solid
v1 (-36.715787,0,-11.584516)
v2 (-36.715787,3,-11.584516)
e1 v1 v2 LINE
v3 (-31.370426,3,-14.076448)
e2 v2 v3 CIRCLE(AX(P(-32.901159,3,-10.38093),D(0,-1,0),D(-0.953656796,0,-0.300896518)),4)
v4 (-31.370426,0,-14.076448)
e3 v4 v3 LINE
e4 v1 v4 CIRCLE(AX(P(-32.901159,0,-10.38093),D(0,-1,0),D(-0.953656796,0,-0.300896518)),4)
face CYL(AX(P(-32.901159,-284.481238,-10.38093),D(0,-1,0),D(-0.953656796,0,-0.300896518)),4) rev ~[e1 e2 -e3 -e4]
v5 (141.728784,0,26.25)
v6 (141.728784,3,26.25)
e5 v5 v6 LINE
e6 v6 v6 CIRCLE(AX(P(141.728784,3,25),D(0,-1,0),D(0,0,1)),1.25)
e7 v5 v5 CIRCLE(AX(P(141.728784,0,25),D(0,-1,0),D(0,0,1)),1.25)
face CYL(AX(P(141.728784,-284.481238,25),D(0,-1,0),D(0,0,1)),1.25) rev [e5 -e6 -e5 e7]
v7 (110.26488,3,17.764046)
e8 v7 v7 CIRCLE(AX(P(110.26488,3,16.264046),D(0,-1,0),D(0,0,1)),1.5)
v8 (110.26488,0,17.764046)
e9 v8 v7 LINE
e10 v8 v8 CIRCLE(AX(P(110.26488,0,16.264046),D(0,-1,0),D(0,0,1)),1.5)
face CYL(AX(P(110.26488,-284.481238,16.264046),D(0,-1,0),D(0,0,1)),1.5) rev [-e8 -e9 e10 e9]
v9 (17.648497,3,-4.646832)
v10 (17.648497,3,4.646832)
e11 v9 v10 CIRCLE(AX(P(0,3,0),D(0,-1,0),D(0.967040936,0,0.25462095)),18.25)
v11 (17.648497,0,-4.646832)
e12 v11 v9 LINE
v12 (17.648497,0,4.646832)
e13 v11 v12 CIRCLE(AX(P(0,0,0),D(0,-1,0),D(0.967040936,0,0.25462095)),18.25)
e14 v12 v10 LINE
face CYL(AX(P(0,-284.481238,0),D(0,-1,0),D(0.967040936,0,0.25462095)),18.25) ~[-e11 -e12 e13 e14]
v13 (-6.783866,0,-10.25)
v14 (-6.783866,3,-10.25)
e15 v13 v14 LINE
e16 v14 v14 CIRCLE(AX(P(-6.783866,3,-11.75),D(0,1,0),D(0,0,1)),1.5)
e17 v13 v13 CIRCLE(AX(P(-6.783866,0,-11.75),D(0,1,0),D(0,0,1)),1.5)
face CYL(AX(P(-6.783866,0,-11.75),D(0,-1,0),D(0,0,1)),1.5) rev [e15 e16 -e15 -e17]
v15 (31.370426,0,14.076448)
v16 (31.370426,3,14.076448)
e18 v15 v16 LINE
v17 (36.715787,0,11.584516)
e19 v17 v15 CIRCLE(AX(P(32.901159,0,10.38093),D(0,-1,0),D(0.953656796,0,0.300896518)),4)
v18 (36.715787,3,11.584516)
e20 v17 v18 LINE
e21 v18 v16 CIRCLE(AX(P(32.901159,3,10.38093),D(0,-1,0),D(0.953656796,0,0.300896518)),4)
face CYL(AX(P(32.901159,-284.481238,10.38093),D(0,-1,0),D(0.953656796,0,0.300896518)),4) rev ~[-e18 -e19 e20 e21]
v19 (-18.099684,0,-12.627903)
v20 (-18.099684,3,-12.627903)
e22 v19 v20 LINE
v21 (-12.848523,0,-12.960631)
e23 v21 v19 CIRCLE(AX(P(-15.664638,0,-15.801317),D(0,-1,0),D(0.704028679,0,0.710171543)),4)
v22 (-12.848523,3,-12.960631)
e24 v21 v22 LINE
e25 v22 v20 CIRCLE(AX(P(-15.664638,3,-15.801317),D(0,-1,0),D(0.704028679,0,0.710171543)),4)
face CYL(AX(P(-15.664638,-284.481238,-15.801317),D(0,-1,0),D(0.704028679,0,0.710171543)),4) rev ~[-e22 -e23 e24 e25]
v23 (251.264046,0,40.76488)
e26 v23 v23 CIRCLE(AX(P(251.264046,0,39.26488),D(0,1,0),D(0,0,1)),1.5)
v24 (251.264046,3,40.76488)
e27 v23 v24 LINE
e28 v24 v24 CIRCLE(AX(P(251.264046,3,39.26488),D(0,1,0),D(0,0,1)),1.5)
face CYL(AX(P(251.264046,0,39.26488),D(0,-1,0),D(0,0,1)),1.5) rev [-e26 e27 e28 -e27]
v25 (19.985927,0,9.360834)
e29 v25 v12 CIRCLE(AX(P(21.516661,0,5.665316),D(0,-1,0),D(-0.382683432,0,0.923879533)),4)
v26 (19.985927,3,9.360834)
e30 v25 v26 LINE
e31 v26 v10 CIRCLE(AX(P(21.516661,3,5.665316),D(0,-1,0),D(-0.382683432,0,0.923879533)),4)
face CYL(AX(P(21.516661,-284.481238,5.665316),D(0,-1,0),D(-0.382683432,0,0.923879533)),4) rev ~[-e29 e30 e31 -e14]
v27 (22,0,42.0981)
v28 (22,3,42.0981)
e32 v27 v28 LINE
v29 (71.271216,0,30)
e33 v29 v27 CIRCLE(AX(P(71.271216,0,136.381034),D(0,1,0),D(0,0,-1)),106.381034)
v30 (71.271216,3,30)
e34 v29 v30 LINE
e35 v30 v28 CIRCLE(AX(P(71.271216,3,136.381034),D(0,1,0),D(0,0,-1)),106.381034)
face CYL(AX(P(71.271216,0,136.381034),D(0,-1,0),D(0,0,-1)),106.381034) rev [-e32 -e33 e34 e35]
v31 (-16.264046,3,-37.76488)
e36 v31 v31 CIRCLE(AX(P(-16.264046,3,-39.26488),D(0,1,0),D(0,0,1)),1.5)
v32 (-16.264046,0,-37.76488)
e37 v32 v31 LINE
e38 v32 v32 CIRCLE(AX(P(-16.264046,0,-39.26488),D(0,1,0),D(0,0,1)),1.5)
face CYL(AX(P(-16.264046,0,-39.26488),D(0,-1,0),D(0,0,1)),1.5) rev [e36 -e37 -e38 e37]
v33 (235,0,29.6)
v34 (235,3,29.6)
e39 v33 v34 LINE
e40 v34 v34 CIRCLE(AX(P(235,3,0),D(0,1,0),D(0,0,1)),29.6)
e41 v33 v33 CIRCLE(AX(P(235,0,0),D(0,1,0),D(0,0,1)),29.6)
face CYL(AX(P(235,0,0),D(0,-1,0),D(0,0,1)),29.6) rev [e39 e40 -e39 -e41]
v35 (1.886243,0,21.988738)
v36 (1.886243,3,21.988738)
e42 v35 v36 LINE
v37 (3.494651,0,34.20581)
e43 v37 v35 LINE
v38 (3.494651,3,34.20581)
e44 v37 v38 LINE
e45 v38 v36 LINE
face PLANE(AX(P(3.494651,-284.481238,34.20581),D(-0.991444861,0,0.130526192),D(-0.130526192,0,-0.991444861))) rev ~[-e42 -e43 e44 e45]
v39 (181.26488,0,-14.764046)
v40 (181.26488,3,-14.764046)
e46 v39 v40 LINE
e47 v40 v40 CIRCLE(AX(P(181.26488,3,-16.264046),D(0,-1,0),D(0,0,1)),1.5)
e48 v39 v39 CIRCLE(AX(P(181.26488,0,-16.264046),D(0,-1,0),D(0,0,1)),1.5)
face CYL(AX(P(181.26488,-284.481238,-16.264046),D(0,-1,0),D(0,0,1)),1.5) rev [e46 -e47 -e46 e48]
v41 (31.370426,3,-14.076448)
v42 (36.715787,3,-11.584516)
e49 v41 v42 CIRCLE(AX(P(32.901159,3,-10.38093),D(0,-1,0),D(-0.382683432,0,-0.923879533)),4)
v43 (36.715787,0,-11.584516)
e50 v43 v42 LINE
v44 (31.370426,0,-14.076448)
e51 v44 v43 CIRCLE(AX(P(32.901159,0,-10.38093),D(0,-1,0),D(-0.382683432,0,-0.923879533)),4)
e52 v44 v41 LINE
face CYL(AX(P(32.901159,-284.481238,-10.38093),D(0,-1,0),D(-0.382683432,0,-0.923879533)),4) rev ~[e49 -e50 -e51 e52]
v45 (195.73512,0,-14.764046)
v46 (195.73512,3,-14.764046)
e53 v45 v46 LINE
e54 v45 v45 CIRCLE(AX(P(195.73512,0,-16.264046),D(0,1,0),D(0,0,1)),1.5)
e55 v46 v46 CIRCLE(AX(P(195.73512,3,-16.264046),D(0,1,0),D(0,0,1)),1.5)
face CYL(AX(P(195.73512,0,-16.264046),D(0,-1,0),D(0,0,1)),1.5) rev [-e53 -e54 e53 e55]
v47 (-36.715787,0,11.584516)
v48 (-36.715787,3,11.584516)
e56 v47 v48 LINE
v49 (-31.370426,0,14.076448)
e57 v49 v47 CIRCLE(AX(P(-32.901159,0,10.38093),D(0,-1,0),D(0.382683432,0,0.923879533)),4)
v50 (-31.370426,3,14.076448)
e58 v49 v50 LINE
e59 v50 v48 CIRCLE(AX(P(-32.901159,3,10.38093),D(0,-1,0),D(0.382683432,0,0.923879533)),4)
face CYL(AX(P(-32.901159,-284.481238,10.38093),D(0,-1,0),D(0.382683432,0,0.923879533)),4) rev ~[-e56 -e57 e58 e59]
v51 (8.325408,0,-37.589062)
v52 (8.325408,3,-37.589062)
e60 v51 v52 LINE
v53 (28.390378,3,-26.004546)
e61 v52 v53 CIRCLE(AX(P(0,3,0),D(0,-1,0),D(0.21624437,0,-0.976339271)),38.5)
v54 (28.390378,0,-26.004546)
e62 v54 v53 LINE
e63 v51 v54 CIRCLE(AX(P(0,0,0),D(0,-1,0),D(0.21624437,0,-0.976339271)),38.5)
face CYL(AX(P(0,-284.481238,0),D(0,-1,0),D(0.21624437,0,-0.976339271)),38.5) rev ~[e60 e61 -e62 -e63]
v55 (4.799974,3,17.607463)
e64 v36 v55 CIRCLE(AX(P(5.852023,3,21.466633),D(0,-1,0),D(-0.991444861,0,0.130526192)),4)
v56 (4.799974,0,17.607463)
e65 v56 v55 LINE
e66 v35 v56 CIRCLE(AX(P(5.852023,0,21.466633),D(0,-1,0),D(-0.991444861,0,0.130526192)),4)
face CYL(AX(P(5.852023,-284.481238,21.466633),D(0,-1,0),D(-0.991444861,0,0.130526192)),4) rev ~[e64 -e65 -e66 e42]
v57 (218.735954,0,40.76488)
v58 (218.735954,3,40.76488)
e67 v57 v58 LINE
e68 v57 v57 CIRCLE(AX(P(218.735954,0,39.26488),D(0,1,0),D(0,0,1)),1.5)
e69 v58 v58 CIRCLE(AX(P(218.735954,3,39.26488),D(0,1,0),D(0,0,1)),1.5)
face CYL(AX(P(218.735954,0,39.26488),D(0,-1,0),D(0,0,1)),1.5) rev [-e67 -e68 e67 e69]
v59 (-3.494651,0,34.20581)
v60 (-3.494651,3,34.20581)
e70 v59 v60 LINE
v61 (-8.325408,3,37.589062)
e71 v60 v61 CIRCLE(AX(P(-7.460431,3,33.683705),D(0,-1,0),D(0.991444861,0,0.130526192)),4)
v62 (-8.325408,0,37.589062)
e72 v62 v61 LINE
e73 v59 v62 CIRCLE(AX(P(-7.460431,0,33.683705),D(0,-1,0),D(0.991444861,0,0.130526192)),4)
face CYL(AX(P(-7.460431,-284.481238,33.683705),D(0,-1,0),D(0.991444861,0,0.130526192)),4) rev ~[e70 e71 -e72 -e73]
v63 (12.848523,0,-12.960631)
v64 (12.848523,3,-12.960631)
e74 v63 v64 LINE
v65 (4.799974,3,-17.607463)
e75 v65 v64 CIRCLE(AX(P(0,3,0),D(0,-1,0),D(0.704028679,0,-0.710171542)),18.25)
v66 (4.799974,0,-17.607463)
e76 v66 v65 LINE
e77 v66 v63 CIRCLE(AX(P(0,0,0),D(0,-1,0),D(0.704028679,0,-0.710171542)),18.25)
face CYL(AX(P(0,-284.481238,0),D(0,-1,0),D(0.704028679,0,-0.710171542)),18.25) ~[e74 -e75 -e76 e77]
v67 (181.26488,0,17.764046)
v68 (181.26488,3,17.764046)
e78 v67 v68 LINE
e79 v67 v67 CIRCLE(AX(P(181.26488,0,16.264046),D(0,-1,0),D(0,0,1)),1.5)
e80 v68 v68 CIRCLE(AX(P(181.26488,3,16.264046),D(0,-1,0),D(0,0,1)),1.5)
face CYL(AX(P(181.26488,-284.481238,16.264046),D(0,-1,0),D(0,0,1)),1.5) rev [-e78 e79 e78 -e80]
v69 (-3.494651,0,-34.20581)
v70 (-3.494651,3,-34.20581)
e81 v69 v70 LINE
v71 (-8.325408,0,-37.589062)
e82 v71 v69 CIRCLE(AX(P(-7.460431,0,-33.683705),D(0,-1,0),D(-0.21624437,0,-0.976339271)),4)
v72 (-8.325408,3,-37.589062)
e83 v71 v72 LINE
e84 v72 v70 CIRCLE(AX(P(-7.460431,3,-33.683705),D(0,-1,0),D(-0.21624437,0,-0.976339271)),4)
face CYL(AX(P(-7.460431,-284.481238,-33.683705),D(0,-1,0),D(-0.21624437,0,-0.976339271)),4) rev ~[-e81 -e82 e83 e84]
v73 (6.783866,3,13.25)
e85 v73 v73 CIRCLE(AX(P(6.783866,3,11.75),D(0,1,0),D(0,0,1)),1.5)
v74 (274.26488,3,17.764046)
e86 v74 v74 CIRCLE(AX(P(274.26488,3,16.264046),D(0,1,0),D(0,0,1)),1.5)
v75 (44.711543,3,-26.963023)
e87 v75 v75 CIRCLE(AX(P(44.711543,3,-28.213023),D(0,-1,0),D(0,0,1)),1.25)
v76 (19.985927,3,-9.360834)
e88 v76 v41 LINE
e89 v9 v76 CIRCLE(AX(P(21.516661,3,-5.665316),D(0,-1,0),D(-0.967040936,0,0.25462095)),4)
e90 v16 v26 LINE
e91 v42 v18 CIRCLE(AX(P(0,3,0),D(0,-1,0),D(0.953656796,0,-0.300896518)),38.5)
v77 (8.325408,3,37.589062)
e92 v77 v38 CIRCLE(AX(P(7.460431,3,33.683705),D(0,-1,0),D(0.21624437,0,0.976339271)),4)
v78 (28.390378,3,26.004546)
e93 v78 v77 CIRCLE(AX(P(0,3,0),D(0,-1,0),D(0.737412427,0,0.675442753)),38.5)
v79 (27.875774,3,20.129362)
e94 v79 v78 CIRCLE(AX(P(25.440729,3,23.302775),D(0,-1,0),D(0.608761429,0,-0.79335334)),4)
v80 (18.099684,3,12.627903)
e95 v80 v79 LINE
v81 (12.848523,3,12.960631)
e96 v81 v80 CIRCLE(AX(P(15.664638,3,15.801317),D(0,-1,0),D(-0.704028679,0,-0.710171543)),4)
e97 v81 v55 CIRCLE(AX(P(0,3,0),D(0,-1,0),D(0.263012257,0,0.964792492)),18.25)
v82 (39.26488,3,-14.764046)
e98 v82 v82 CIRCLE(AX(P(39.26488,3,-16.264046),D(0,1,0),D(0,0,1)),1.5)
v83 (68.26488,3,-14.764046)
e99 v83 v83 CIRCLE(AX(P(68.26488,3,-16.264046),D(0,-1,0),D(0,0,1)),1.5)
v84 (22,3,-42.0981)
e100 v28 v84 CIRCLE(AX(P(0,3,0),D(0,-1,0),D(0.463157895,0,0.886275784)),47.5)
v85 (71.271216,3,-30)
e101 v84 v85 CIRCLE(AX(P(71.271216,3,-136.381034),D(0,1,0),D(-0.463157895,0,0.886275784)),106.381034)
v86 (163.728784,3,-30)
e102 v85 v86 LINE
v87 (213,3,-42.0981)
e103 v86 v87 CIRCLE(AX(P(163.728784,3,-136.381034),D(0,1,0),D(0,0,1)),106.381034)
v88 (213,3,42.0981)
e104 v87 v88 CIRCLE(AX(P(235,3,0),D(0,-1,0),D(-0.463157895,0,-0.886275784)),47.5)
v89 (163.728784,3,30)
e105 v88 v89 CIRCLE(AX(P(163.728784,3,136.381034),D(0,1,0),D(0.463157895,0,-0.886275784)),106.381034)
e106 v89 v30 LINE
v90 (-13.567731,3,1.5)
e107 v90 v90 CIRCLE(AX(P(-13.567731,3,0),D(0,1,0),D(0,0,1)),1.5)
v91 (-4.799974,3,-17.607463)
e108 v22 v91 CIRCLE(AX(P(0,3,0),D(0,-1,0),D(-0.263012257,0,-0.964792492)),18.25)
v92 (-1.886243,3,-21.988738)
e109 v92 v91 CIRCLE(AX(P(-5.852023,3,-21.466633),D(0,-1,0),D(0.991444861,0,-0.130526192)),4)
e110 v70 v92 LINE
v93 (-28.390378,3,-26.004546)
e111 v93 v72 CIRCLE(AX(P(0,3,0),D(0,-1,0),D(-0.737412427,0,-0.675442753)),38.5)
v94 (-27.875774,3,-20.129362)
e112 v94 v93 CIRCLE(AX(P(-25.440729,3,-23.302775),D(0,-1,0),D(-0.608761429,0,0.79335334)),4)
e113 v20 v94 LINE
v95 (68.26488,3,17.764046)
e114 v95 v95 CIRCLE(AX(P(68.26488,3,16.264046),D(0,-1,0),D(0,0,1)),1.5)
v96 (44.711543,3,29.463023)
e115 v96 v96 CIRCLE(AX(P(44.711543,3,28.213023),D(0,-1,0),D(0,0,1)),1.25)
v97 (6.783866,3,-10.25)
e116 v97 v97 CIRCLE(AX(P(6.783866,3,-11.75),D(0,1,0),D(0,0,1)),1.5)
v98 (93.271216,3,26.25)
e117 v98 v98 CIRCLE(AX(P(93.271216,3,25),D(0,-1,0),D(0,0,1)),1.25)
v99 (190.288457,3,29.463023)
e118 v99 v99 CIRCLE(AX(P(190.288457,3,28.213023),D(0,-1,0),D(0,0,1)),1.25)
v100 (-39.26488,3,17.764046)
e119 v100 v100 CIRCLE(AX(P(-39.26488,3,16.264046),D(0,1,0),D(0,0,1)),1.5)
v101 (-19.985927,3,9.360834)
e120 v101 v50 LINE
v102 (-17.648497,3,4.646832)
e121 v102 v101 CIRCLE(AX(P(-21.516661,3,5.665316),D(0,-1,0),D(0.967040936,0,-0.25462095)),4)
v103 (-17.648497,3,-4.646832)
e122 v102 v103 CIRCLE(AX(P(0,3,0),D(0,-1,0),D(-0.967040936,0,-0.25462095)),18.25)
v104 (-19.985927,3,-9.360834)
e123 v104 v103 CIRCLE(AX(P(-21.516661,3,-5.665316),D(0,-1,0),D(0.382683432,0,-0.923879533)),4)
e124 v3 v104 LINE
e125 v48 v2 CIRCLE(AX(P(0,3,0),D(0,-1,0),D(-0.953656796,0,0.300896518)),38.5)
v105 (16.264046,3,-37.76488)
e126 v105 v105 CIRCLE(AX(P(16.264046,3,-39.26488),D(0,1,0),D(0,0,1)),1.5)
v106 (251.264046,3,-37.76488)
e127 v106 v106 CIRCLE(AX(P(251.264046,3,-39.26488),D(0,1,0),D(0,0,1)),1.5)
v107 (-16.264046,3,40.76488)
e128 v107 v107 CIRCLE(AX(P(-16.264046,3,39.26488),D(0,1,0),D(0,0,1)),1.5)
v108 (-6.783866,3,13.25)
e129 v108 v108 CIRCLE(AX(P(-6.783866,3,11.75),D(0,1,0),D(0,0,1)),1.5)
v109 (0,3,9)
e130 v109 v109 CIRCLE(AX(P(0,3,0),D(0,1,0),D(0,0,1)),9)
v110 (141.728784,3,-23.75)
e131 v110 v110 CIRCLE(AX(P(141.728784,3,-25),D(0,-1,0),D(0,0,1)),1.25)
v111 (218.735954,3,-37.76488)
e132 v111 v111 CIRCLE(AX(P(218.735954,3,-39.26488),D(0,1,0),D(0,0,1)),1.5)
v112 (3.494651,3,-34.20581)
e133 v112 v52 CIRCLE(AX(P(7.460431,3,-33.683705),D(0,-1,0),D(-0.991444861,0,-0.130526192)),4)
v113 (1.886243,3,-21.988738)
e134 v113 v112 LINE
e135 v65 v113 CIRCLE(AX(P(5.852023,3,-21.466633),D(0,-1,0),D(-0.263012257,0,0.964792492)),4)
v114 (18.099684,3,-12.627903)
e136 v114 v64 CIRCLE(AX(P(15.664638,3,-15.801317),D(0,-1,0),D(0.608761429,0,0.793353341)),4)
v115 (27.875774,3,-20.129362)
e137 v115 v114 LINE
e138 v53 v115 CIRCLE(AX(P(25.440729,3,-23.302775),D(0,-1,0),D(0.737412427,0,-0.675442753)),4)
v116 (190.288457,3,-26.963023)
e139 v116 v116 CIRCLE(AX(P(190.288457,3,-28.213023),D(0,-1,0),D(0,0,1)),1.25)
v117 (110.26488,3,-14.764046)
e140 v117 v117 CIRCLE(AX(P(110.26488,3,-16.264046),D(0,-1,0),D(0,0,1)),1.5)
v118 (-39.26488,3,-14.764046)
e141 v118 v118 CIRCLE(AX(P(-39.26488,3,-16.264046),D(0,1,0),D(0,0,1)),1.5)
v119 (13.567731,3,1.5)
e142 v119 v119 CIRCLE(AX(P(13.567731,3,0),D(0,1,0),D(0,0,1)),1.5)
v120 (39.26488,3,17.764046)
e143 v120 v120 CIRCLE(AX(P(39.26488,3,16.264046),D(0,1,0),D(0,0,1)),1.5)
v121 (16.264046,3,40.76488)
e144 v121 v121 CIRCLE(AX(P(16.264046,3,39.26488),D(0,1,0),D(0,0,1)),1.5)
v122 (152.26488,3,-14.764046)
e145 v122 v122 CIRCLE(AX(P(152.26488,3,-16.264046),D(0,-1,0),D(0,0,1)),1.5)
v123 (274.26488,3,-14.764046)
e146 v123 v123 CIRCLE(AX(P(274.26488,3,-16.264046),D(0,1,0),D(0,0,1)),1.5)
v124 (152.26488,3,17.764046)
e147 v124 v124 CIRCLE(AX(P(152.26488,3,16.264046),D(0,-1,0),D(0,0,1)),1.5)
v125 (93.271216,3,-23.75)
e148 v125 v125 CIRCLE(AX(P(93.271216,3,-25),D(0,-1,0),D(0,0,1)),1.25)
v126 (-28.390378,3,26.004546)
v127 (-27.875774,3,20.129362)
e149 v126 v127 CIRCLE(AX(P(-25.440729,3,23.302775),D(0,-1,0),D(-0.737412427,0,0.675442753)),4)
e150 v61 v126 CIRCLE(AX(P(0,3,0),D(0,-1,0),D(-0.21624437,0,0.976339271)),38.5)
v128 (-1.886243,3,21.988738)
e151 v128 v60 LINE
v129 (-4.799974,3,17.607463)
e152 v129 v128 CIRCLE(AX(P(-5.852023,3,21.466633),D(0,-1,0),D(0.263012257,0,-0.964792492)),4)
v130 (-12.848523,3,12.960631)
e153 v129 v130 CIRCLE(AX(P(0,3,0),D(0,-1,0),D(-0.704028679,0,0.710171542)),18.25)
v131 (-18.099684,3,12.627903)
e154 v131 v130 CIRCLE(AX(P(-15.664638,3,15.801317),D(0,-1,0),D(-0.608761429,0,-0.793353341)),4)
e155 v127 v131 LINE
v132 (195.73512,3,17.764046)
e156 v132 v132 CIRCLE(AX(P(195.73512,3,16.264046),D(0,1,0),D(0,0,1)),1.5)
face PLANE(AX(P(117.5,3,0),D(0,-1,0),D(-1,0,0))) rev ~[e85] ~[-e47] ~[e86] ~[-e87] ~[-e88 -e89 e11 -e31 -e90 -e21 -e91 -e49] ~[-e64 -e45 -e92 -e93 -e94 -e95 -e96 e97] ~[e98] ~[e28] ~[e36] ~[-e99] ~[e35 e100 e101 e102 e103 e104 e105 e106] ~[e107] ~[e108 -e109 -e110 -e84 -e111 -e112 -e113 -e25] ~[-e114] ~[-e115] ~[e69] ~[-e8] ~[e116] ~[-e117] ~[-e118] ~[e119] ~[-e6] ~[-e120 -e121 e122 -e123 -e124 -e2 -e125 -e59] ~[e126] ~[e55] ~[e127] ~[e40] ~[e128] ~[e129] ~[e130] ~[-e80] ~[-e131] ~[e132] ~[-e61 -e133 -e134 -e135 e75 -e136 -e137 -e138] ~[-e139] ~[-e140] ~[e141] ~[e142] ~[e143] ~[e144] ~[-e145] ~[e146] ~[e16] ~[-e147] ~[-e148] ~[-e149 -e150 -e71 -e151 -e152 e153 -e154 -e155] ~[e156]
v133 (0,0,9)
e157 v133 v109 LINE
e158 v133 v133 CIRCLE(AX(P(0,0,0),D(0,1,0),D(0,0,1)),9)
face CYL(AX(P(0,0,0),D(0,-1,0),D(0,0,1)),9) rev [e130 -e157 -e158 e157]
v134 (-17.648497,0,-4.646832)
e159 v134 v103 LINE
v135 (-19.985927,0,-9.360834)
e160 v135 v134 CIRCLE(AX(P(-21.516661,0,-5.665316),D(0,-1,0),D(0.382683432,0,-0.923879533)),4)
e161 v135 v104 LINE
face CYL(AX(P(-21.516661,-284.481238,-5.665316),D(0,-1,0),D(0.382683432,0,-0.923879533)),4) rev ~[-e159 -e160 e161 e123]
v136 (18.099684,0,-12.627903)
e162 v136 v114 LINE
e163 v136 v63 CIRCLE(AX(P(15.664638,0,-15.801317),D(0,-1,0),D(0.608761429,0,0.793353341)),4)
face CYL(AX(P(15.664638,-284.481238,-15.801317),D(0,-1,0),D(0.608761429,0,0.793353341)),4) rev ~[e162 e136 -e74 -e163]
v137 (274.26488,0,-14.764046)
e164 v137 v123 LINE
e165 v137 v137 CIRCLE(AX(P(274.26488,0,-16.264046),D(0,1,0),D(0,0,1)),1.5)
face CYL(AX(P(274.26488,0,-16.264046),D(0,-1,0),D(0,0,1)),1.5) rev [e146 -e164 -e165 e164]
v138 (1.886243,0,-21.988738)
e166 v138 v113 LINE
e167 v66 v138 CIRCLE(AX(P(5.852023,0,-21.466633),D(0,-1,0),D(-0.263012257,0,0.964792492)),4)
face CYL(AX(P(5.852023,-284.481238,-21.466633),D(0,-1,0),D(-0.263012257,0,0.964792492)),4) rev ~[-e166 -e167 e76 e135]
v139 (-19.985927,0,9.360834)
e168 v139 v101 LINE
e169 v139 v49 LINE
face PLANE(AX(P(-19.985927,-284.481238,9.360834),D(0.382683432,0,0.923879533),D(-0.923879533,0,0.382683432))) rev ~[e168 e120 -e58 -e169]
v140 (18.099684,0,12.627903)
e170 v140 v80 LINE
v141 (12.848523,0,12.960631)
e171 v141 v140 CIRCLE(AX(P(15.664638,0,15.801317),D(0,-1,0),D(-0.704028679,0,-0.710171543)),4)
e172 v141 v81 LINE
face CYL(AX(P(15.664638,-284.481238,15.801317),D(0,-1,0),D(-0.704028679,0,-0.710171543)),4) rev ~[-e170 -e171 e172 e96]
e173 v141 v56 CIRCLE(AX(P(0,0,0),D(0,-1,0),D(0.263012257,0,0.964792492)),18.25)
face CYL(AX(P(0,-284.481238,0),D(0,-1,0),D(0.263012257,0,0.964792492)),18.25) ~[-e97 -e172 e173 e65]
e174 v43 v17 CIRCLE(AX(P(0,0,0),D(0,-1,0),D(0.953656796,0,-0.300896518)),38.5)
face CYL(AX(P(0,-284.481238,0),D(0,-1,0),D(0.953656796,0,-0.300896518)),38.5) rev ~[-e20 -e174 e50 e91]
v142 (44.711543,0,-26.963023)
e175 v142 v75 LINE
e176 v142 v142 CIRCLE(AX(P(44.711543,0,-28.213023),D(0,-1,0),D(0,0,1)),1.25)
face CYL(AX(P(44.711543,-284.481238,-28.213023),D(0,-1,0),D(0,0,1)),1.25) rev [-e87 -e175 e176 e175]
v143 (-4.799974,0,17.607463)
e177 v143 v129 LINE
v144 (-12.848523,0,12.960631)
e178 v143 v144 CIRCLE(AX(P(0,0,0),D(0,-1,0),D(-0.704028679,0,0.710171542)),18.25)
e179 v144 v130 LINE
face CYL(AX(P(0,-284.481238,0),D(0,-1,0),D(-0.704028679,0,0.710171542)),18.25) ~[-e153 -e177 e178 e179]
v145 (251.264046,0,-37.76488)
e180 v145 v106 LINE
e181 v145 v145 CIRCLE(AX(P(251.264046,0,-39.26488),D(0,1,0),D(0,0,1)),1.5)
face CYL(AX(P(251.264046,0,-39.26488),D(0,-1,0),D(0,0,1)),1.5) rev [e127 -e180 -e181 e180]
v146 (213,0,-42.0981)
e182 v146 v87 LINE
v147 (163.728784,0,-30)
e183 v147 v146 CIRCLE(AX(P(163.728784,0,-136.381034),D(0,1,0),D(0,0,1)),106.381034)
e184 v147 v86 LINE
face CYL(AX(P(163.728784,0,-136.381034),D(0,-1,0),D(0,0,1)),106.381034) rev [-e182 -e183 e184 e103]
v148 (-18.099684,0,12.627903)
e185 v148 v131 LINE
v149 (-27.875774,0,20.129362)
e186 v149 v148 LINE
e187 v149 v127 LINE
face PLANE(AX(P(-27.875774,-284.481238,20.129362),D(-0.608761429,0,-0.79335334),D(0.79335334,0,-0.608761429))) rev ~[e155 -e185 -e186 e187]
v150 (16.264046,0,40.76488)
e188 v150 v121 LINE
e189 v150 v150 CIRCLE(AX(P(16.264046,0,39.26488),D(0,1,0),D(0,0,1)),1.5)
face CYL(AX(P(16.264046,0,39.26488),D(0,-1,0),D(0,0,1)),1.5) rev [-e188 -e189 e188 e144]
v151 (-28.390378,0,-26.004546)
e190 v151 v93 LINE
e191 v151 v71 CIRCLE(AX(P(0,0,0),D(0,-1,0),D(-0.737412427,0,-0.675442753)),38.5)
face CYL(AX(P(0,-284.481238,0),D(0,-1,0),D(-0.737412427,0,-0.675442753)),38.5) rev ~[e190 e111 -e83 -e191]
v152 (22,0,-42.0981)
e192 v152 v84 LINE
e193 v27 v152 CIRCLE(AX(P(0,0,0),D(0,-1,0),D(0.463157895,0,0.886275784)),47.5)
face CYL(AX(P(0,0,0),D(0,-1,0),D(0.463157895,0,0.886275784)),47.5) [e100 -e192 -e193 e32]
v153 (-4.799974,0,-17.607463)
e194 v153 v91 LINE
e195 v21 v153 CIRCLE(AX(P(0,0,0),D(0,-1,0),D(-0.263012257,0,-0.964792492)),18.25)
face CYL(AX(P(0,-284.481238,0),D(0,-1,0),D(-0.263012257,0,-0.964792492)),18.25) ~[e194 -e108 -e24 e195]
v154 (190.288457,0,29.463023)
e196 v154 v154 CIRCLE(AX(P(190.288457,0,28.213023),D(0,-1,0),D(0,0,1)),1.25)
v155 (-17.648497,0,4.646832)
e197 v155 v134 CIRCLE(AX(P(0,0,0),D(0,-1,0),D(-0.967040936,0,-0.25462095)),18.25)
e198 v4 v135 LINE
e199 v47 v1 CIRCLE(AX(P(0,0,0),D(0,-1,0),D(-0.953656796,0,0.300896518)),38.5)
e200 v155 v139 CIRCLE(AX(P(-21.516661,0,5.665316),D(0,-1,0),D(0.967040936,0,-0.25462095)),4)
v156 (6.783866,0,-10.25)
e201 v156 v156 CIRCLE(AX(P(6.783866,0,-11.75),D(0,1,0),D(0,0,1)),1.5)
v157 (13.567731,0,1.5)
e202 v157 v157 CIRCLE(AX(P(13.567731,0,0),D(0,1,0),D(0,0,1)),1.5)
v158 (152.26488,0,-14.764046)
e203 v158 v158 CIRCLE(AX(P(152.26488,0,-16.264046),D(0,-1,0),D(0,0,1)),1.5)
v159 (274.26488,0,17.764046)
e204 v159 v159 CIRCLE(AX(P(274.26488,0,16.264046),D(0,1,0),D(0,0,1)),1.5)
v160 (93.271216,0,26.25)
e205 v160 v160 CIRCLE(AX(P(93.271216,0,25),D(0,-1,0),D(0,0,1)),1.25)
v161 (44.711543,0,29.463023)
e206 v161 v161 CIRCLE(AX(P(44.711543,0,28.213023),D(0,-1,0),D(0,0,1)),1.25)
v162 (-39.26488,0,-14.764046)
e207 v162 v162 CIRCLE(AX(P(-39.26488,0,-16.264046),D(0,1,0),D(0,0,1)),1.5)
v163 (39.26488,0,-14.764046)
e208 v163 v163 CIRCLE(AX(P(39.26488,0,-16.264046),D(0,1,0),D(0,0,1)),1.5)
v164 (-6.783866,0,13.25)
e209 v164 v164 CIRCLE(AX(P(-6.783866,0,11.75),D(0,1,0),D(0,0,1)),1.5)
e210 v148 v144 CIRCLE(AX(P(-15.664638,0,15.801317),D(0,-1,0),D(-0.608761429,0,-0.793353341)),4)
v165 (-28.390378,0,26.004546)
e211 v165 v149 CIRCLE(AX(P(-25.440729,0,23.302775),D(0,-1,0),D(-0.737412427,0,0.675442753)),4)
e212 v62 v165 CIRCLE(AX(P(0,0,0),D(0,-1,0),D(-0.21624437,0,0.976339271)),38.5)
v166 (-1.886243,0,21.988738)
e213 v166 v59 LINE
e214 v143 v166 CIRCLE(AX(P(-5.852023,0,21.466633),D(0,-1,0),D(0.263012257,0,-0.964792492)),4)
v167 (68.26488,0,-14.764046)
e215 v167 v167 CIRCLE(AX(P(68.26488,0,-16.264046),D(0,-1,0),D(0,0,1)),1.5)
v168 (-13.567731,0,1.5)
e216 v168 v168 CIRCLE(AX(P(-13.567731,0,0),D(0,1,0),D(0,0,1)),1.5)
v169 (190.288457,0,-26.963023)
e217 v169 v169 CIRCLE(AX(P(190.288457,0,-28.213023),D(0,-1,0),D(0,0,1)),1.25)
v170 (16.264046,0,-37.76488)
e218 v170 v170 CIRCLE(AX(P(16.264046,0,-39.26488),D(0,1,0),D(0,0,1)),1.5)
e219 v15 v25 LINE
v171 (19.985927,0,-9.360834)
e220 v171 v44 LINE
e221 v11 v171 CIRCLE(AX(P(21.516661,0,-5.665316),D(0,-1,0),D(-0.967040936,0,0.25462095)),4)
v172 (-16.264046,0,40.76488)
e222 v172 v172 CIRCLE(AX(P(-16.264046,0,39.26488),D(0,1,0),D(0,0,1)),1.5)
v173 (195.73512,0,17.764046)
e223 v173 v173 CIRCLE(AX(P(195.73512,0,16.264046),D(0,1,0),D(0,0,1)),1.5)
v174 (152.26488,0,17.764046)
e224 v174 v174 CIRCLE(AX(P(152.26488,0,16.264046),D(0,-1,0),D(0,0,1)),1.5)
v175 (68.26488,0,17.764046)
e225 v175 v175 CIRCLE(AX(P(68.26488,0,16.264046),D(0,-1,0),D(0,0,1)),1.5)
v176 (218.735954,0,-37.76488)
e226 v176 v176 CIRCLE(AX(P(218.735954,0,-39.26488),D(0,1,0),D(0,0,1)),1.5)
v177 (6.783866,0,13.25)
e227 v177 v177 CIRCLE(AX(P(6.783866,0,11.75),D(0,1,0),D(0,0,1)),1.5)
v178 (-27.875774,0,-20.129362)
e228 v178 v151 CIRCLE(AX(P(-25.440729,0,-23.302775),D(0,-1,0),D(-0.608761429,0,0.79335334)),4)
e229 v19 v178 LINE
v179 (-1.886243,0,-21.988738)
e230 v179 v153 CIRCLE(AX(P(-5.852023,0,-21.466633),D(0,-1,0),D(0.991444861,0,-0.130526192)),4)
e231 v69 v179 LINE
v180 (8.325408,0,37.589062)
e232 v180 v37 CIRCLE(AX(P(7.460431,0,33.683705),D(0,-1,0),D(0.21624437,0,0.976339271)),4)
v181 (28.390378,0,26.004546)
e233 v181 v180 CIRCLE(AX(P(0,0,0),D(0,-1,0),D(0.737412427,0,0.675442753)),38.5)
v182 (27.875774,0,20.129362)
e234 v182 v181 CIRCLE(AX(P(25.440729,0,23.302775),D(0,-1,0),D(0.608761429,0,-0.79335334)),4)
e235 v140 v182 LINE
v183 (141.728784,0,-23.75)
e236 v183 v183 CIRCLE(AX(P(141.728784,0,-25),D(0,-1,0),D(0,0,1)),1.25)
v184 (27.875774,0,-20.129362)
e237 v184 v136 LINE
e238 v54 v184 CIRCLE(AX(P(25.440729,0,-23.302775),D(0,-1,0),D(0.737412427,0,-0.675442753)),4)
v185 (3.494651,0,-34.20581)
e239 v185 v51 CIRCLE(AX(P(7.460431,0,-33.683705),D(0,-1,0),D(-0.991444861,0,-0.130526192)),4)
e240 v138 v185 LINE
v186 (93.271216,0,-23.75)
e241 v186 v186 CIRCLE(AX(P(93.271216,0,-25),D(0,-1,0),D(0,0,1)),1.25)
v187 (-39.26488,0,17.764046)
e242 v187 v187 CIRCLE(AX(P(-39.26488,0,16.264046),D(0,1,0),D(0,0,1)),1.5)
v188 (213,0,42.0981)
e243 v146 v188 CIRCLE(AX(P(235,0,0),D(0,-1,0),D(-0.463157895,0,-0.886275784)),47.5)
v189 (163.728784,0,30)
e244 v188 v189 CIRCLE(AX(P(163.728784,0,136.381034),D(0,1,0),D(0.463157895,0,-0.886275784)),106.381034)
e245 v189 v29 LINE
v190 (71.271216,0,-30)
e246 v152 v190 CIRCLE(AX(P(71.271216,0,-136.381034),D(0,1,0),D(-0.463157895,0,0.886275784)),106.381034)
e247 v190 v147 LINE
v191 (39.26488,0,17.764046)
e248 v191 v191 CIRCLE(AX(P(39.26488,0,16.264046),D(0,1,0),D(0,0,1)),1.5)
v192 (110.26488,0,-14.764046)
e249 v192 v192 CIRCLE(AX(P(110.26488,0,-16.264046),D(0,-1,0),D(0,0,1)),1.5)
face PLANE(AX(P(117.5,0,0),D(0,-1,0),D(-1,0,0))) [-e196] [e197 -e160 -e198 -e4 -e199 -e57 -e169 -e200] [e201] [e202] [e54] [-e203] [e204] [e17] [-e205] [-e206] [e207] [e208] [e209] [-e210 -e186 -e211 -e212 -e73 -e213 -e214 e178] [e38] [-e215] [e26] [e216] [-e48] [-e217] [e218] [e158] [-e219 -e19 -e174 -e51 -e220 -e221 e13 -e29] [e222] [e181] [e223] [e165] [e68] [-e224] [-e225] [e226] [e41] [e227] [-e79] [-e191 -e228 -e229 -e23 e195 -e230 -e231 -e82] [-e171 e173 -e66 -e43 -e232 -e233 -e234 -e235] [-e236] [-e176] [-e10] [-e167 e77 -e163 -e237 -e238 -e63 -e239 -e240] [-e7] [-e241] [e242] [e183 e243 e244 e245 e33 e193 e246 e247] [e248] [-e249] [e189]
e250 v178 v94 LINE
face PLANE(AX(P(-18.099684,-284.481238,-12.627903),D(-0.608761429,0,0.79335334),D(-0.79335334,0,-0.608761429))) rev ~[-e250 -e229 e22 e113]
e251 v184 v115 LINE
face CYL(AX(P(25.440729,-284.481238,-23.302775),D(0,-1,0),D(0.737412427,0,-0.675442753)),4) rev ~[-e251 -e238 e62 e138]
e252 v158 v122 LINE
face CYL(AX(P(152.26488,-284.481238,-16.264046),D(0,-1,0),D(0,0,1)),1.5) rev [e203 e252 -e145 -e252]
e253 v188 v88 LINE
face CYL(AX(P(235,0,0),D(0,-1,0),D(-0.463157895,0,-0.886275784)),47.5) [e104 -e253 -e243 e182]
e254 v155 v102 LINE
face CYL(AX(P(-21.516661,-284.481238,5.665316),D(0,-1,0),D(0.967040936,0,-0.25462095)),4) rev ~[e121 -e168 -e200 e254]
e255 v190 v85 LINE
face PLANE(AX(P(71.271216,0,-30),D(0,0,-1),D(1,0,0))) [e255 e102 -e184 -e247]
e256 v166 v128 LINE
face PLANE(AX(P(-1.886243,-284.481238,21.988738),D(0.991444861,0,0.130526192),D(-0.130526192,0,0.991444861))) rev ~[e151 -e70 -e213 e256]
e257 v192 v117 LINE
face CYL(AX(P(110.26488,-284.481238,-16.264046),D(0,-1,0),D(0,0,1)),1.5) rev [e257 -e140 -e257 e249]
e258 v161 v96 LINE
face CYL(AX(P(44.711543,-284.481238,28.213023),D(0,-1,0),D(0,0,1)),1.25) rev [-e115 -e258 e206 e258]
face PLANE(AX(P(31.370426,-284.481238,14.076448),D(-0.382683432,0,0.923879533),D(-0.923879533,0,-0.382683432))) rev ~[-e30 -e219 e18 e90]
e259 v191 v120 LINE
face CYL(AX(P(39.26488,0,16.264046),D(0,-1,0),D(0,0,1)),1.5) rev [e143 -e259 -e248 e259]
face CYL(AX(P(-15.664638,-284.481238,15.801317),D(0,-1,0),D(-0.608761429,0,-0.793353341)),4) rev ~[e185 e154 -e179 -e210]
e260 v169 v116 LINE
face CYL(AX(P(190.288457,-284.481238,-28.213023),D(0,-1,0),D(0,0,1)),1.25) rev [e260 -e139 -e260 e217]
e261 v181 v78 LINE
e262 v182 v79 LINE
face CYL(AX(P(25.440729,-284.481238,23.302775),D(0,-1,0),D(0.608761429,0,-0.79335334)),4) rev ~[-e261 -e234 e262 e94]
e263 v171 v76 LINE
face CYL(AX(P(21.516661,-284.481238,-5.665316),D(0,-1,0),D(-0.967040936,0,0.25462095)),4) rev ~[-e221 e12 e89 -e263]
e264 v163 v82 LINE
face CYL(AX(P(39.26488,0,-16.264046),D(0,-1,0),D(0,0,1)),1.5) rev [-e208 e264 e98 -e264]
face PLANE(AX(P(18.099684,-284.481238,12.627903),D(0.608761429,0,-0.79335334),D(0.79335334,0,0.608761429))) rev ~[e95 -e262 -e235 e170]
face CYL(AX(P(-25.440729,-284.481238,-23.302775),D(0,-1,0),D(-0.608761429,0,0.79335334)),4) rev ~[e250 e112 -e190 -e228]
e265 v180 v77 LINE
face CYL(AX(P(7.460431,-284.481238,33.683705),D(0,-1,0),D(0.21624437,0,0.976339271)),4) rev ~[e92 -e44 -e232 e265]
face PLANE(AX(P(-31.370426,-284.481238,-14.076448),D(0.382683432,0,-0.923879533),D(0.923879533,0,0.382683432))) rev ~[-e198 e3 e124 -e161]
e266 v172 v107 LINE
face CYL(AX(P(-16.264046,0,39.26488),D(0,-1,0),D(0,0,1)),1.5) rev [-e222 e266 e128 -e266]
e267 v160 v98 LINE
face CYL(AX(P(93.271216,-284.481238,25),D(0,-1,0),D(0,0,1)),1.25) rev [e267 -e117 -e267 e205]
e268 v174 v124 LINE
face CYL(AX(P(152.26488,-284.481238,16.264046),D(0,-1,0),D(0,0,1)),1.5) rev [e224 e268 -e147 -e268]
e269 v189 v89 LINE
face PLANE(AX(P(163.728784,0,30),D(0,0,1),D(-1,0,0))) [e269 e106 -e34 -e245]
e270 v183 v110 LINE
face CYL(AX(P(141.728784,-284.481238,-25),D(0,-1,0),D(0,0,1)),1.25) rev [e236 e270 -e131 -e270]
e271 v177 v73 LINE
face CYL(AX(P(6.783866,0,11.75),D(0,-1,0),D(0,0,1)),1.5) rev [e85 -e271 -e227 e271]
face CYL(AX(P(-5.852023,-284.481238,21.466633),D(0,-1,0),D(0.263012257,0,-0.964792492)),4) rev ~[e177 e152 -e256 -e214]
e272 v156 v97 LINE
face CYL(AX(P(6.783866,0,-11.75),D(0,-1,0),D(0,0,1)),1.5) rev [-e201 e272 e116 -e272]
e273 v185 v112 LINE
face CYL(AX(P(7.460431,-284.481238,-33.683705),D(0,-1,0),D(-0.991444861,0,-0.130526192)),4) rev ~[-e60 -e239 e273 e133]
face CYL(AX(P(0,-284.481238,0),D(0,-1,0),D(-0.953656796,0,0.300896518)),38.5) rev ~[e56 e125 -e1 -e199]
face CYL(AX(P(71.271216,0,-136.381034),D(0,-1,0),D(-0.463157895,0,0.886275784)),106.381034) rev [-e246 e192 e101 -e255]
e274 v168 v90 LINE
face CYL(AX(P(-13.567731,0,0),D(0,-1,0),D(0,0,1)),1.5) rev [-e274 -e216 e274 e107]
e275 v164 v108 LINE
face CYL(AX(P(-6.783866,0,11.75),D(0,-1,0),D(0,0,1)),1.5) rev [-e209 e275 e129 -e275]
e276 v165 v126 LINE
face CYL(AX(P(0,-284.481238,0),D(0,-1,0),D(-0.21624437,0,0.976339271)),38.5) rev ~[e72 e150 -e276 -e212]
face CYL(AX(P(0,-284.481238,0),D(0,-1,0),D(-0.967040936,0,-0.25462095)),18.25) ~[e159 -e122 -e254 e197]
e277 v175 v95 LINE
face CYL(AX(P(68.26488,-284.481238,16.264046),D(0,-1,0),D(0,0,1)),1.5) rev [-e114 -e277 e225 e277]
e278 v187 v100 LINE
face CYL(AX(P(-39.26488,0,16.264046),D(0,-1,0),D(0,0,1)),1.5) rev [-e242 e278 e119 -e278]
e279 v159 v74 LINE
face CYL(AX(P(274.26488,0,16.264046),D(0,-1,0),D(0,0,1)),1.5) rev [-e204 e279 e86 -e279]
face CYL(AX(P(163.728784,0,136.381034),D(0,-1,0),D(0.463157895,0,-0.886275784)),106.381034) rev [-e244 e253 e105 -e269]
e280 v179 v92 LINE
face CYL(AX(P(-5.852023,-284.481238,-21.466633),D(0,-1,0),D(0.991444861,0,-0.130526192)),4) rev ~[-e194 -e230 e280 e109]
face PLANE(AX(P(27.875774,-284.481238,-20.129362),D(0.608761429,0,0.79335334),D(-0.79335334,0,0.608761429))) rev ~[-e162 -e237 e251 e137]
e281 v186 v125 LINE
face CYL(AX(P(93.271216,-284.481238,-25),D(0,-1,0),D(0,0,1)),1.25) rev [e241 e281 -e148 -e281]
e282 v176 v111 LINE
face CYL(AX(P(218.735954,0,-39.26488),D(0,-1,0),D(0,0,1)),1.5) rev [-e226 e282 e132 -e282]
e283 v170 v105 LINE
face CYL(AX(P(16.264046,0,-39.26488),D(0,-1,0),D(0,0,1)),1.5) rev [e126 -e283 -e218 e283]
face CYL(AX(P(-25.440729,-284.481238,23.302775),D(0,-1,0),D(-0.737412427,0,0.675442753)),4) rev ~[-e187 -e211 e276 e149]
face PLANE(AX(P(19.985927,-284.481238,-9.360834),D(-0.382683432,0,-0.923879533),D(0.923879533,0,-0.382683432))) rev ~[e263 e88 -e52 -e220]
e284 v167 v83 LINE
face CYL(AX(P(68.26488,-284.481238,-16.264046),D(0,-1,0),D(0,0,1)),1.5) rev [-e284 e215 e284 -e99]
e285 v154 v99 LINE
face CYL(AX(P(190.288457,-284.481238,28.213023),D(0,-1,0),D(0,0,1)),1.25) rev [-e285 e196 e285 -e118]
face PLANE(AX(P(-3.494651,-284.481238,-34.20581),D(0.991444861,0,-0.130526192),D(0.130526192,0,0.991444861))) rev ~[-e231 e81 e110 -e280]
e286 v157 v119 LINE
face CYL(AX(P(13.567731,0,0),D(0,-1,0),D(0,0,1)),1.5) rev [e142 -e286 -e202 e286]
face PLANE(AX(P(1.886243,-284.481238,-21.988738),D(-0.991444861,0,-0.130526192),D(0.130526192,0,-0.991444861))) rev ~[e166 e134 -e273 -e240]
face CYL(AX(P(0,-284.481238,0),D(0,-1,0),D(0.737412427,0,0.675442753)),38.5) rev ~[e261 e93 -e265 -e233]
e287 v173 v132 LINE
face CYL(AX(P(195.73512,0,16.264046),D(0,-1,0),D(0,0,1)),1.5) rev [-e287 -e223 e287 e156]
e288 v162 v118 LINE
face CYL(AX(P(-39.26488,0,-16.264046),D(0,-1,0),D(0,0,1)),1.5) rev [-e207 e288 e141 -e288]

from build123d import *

# Parameters (mm, degrees)
SKETCH_1_R               = 9
SKETCH_1_R_2             = 29.6
SKETCH_1_R_3             = 1.5
EXTRUDE_1_DEPTH          = 3
CUT_EXTRUDE_1_DEPTH      = 287.481238478
CUT_EXTRUDE_1_DEPTH_BACK = 287.481238478
SKETCH_2_R               = 1.25
CUT_EXTRUDE_2_DEPTH      = 287.481238478
CUT_EXTRUDE_2_DEPTH_BACK = 287.481238478
CUT_EXTRUDE_3_DEPTH      = 287.481238478
CUT_EXTRUDE_3_DEPTH_BACK = 287.481238478
SKETCH_4_R               = 1.5


with BuildPart() as part:
    # 草图1 → 凸台-拉伸1 (new body)
    with BuildSketch(Plane(origin=(0, 0, 0), x_dir=(1, 0, 0), z_dir=(0, 1, 0))):
        with BuildLine():
            Line((71.271215686, 30), (163.728784314, 30))
            ThreePointArc((163.728784314, 30), (189.096168452, 33.068787794), (213, 42.09809972))
            ThreePointArc((213, 42.09809972), (282.5, 0), (213, -42.09809972))
            ThreePointArc((213, -42.09809972), (189.096168452, -33.068787794), (163.728784314, -30))
            Line((163.728784314, -30), (71.271215686, -30))
            ThreePointArc((71.271215686, -30), (45.903831548, -33.068787794), (22, -42.09809972))
            ThreePointArc((22, -42.09809972), (-47.5, 0), (22, 42.09809972))
            ThreePointArc((22, 42.09809972), (45.903831548, 33.068787794), (71.271215686, 30))
        make_face()
        with Locations(Location((0, 0, 0), (0, 0, 270))):
            Circle(SKETCH_1_R, mode=Mode.SUBTRACT)
        with Locations(Location((235, 0, 0), (0, 0, 270))):
            Circle(SKETCH_1_R_2, mode=Mode.SUBTRACT)
        with Locations(Location((218.735954124, 39.264880132, 0), (0, 0, 270))):
            Circle(SKETCH_1_R_3, mode=Mode.SUBTRACT)
        with Locations(Location((251.264045876, 39.264880132, 0), (0, 0, 270))):
            Circle(SKETCH_1_R_3, mode=Mode.SUBTRACT)
        with Locations(Location((274.264880132, 16.264045876, 0), (0, 0, 270))):
            Circle(SKETCH_1_R_3, mode=Mode.SUBTRACT)
        with Locations(Location((195.735119868, 16.264045876, 0), (0, 0, 270))):
            Circle(SKETCH_1_R_3, mode=Mode.SUBTRACT)
        with Locations(Location((195.735119868, -16.264045876, 0), (0, 0, 270))):
            Circle(SKETCH_1_R_3, mode=Mode.SUBTRACT)
        with Locations(Location((274.264880132, -16.264045876, 0), (0, 0, 270))):
            Circle(SKETCH_1_R_3, mode=Mode.SUBTRACT)
        with Locations(Location((251.264045876, -39.264880132, 0), (0, 0, 270))):
            Circle(SKETCH_1_R_3, mode=Mode.SUBTRACT)
        with Locations(Location((218.735954124, -39.264880132, 0), (0, 0, 270))):
            Circle(SKETCH_1_R_3, mode=Mode.SUBTRACT)
        with Locations(Location((-16.264045876, 39.264880132, 0), (0, 0, 270))):
            Circle(SKETCH_1_R_3, mode=Mode.SUBTRACT)
        with Locations(Location((16.264045876, 39.264880132, 0), (0, 0, 270))):
            Circle(SKETCH_1_R_3, mode=Mode.SUBTRACT)
        with Locations(Location((39.264880132, 16.264045876, 0), (0, 0, 270))):
            Circle(SKETCH_1_R_3, mode=Mode.SUBTRACT)
        with Locations(Location((39.264880132, -16.264045876, 0), (0, 0, 270))):
            Circle(SKETCH_1_R_3, mode=Mode.SUBTRACT)
        with Locations(Location((16.264045876, -39.264880132, 0), (0, 0, 270))):
            Circle(SKETCH_1_R_3, mode=Mode.SUBTRACT)
        with Locations(Location((-16.264045876, -39.264880132, 0), (0, 0, 270))):
            Circle(SKETCH_1_R_3, mode=Mode.SUBTRACT)
        with Locations(Location((-39.264880132, -16.264045876, 0), (0, 0, 270))):
            Circle(SKETCH_1_R_3, mode=Mode.SUBTRACT)
        with Locations(Location((-39.264880132, 16.264045876, 0), (0, 0, 270))):
            Circle(SKETCH_1_R_3, mode=Mode.SUBTRACT)
        with Locations(Location((-6.783865663, 11.75, 0), (0, 0, 270))):
            Circle(SKETCH_1_R_3, mode=Mode.SUBTRACT)
        with Locations(Location((6.783865663, 11.75, 0), (0, 0, 270))):
            Circle(SKETCH_1_R_3, mode=Mode.SUBTRACT)
        with Locations(Location((13.567731326, 0, 0), (0, 0, 270))):
            Circle(SKETCH_1_R_3, mode=Mode.SUBTRACT)
        with Locations(Location((6.783865663, -11.75, 0), (0, 0, 270))):
            Circle(SKETCH_1_R_3, mode=Mode.SUBTRACT)
        with Locations(Location((-13.567731326, 0, 0), (0, 0, 270))):
            Circle(SKETCH_1_R_3, mode=Mode.SUBTRACT)
        with Locations(Location((-6.783865663, -11.75, 0), (0, 0, 270))):
            Circle(SKETCH_1_R_3, mode=Mode.SUBTRACT)
    extrude(amount=EXTRUDE_1_DEPTH)

    # 草图2 → 切除-拉伸1 (cut, two sides: drawn at the far end of the back side and taken through both)
    with BuildSketch(Plane(origin=(0, 3, 0), x_dir=(1, 0, 0), z_dir=(0, 1, 0)).offset(-CUT_EXTRUDE_1_DEPTH_BACK)):
        with Locations(Location((93.271215686, 25, 0), (0, 0, 270))):
            Circle(SKETCH_2_R)
        with Locations(Location((141.728784314, 25, 0), (0, 0, 270))):
            Circle(SKETCH_2_R)
        with Locations(Location((190.288457303, 28.213023457, 0), (0, 0, 270))):
            Circle(SKETCH_2_R)
        with Locations(Location((44.711542697, 28.213023457, 0), (0, 0, 270))):
            Circle(SKETCH_2_R)
        with Locations(Location((44.711542697, -28.213023457, 0), (0, 0, 270))):
            Circle(SKETCH_2_R)
        with Locations(Location((93.271215686, -25, 0), (0, 0, 270))):
            Circle(SKETCH_2_R)
        with Locations(Location((190.288457303, -28.213023457, 0), (0, 0, 270))):
            Circle(SKETCH_2_R)
        with Locations(Location((141.728784314, -25, 0), (0, 0, 270))):
            Circle(SKETCH_2_R)
    extrude(amount=CUT_EXTRUDE_1_DEPTH + CUT_EXTRUDE_1_DEPTH_BACK, mode=Mode.SUBTRACT)

    # 草图3 → 切除-拉伸2 (cut, two sides: drawn at the far end of the back side and taken through both)
    with BuildSketch(Plane(origin=(0, 3, 0), x_dir=(1, 0, 0), z_dir=(0, 1, 0)).offset(-CUT_EXTRUDE_2_DEPTH_BACK)):
        with BuildLine():
            ThreePointArc((-12.848523388, -12.960630646), (-9.125, -15.804963619), (-4.799973695, -17.607462978))
            ThreePointArc((-4.799973695, -17.607462978), (-2.52132569, -19.251580515), (-1.886243278, -21.988737715))
            Line((-1.886243278, -21.988737715), (-3.494651309, -34.205809627))
            ThreePointArc((-3.494651309, -34.205809627), (-5.165797392, -36.960083611), (-8.325408233, -37.589061943))
            ThreePointArc((-8.325408233, -37.589061943), (-19.25, -33.341978046), (-28.390378431, -26.004545998))
            ThreePointArc((-28.390378431, -26.004545998), (-29.425472637, -22.953753578), (-27.875774439, -20.129361624))
            Line((-27.875774439, -20.129361624), (-18.099683819, -12.627903454))
            ThreePointArc((-18.099683819, -12.627903454), (-15.411694944, -11.809322357), (-12.848523388, -12.960630646))
        make_face()
        with BuildLine():
            ThreePointArc((-17.648497083, 4.646832332), (-18.25, 0), (-17.648497083, -4.646832332))
            ThreePointArc((-17.648497083, -4.646832332), (-17.933020634, -7.442258159), (-19.985927097, -9.360834261))
            Line((-19.985927097, -9.360834261), (-31.370425748, -14.076448003))
            ThreePointArc((-31.370425748, -14.076448003), (-34.591270029, -14.006330033), (-36.715786664, -11.584515945))
            ThreePointArc((-36.715786664, -11.584515945), (-38.5, 0), (-36.715786664, 11.584515945))
            ThreePointArc((-36.715786664, 11.584515945), (-34.591270029, 14.006330033), (-31.370425748, 14.076448003))
            Line((-31.370425748, 14.076448003), (-19.985927097, 9.360834261))
            ThreePointArc((-19.985927097, 9.360834261), (-17.933020634, 7.442258159), (-17.648497083, 4.646832332))
        make_face()
        with BuildLine():
            ThreePointArc((-4.799973695, 17.607462978), (-9.125, 15.804963619), (-12.848523388, 12.960630646))
            ThreePointArc((-12.848523388, 12.960630646), (-15.411694944, 11.809322357), (-18.099683819, 12.627903454))
            Line((-18.099683819, 12.627903454), (-27.875774439, 20.129361624))
            ThreePointArc((-27.875774439, 20.129361624), (-29.425472637, 22.953753578), (-28.390378431, 26.004545998))
            ThreePointArc((-28.390378431, 26.004545998), (-19.25, 33.341978046), (-8.325408233, 37.589061943))
            ThreePointArc((-8.325408233, 37.589061943), (-5.165797392, 36.960083611), (-3.494651309, 34.205809627))
            Line((-3.494651309, 34.205809627), (-1.886243278, 21.988737715))
            ThreePointArc((-1.886243278, 21.988737715), (-2.52132569, 19.251580515), (-4.799973695, 17.607462978))
        make_face()
        with BuildLine():
            ThreePointArc((12.848523388, 12.960630646), (9.125, 15.804963619), (4.799973695, 17.607462978))
            ThreePointArc((4.799973695, 17.607462978), (2.52132569, 19.251580515), (1.886243278, 21.988737715))
            Line((1.886243278, 21.988737715), (3.494651309, 34.205809627))
            ThreePointArc((3.494651309, 34.205809627), (5.165797392, 36.960083611), (8.325408233, 37.589061943))
            ThreePointArc((8.325408233, 37.589061943), (19.25, 33.341978046), (28.390378431, 26.004545998))
            ThreePointArc((28.390378431, 26.004545998), (29.425472637, 22.953753578), (27.875774439, 20.129361624))
            Line((27.875774439, 20.129361624), (18.099683819, 12.627903454))
            ThreePointArc((18.099683819, 12.627903454), (15.411694944, 11.809322357), (12.848523388, 12.960630646))
        make_face()
        with BuildLine():
            ThreePointArc((17.648497083, -4.646832332), (18.25, 0), (17.648497083, 4.646832332))
            ThreePointArc((17.648497083, 4.646832332), (17.933020634, 7.442258159), (19.985927097, 9.360834261))
            Line((19.985927097, 9.360834261), (31.370425748, 14.076448003))
            ThreePointArc((31.370425748, 14.076448003), (34.591270029, 14.006330033), (36.715786664, 11.584515945))
            ThreePointArc((36.715786664, 11.584515945), (38.5, 0), (36.715786664, -11.584515945))
            ThreePointArc((36.715786664, -11.584515945), (34.591270029, -14.006330033), (31.370425748, -14.076448003))
            Line((31.370425748, -14.076448003), (19.985927097, -9.360834261))
            ThreePointArc((19.985927097, -9.360834261), (17.933020634, -7.442258159), (17.648497083, -4.646832332))
        make_face()
        with BuildLine():
            ThreePointArc((4.799973695, -17.607462978), (9.125, -15.804963619), (12.848523388, -12.960630646))
            ThreePointArc((12.848523388, -12.960630646), (15.411694944, -11.809322357), (18.099683819, -12.627903454))
            Line((18.099683819, -12.627903454), (27.875774439, -20.129361624))
            ThreePointArc((27.875774439, -20.129361624), (29.425472637, -22.953753578), (28.390378431, -26.004545998))
            ThreePointArc((28.390378431, -26.004545998), (19.25, -33.341978046), (8.325408233, -37.589061943))
            ThreePointArc((8.325408233, -37.589061943), (5.165797392, -36.960083611), (3.494651309, -34.205809627))
            Line((3.494651309, -34.205809627), (1.886243278, -21.988737715))
            ThreePointArc((1.886243278, -21.988737715), (2.52132569, -19.251580515), (4.799973695, -17.607462978))
        make_face()
    extrude(amount=CUT_EXTRUDE_2_DEPTH + CUT_EXTRUDE_2_DEPTH_BACK, mode=Mode.SUBTRACT)

    # 草图4 → 切除-拉伸3 (cut, two sides: drawn at the far end of the back side and taken through both)
    with BuildSketch(Plane(origin=(0, 3, 0), x_dir=(1, 0, 0), z_dir=(0, 1, 0)).offset(-CUT_EXTRUDE_3_DEPTH_BACK)):
        with Locations(Location((68.264880132, 16.264045876, 0), (0, 0, 270))):
            Circle(SKETCH_4_R)
        with Locations(Location((110.264880132, 16.264045876, 0), (0, 0, 270))):
            Circle(SKETCH_4_R)
        with Locations(Location((152.264880132, 16.264045876, 0), (0, 0, 270))):
            Circle(SKETCH_4_R)
        with Locations(Location((181.264880132, 16.264045876, 0), (0, 0, 270))):
            Circle(SKETCH_4_R)
        with Locations(Location((68.264880132, -16.264045876, 0), (0, 0, 270))):
            Circle(SKETCH_4_R)
        with Locations(Location((110.264880132, -16.264045876, 0), (0, 0, 270))):
            Circle(SKETCH_4_R)
        with Locations(Location((152.264880132, -16.264045876, 0), (0, 0, 270))):
            Circle(SKETCH_4_R)
        with Locations(Location((181.264880132, -16.264045876, 0), (0, 0, 270))):
            Circle(SKETCH_4_R)
    extrude(amount=CUT_EXTRUDE_3_DEPTH + CUT_EXTRUDE_3_DEPTH_BACK, mode=Mode.SUBTRACT)


solid = part.part
